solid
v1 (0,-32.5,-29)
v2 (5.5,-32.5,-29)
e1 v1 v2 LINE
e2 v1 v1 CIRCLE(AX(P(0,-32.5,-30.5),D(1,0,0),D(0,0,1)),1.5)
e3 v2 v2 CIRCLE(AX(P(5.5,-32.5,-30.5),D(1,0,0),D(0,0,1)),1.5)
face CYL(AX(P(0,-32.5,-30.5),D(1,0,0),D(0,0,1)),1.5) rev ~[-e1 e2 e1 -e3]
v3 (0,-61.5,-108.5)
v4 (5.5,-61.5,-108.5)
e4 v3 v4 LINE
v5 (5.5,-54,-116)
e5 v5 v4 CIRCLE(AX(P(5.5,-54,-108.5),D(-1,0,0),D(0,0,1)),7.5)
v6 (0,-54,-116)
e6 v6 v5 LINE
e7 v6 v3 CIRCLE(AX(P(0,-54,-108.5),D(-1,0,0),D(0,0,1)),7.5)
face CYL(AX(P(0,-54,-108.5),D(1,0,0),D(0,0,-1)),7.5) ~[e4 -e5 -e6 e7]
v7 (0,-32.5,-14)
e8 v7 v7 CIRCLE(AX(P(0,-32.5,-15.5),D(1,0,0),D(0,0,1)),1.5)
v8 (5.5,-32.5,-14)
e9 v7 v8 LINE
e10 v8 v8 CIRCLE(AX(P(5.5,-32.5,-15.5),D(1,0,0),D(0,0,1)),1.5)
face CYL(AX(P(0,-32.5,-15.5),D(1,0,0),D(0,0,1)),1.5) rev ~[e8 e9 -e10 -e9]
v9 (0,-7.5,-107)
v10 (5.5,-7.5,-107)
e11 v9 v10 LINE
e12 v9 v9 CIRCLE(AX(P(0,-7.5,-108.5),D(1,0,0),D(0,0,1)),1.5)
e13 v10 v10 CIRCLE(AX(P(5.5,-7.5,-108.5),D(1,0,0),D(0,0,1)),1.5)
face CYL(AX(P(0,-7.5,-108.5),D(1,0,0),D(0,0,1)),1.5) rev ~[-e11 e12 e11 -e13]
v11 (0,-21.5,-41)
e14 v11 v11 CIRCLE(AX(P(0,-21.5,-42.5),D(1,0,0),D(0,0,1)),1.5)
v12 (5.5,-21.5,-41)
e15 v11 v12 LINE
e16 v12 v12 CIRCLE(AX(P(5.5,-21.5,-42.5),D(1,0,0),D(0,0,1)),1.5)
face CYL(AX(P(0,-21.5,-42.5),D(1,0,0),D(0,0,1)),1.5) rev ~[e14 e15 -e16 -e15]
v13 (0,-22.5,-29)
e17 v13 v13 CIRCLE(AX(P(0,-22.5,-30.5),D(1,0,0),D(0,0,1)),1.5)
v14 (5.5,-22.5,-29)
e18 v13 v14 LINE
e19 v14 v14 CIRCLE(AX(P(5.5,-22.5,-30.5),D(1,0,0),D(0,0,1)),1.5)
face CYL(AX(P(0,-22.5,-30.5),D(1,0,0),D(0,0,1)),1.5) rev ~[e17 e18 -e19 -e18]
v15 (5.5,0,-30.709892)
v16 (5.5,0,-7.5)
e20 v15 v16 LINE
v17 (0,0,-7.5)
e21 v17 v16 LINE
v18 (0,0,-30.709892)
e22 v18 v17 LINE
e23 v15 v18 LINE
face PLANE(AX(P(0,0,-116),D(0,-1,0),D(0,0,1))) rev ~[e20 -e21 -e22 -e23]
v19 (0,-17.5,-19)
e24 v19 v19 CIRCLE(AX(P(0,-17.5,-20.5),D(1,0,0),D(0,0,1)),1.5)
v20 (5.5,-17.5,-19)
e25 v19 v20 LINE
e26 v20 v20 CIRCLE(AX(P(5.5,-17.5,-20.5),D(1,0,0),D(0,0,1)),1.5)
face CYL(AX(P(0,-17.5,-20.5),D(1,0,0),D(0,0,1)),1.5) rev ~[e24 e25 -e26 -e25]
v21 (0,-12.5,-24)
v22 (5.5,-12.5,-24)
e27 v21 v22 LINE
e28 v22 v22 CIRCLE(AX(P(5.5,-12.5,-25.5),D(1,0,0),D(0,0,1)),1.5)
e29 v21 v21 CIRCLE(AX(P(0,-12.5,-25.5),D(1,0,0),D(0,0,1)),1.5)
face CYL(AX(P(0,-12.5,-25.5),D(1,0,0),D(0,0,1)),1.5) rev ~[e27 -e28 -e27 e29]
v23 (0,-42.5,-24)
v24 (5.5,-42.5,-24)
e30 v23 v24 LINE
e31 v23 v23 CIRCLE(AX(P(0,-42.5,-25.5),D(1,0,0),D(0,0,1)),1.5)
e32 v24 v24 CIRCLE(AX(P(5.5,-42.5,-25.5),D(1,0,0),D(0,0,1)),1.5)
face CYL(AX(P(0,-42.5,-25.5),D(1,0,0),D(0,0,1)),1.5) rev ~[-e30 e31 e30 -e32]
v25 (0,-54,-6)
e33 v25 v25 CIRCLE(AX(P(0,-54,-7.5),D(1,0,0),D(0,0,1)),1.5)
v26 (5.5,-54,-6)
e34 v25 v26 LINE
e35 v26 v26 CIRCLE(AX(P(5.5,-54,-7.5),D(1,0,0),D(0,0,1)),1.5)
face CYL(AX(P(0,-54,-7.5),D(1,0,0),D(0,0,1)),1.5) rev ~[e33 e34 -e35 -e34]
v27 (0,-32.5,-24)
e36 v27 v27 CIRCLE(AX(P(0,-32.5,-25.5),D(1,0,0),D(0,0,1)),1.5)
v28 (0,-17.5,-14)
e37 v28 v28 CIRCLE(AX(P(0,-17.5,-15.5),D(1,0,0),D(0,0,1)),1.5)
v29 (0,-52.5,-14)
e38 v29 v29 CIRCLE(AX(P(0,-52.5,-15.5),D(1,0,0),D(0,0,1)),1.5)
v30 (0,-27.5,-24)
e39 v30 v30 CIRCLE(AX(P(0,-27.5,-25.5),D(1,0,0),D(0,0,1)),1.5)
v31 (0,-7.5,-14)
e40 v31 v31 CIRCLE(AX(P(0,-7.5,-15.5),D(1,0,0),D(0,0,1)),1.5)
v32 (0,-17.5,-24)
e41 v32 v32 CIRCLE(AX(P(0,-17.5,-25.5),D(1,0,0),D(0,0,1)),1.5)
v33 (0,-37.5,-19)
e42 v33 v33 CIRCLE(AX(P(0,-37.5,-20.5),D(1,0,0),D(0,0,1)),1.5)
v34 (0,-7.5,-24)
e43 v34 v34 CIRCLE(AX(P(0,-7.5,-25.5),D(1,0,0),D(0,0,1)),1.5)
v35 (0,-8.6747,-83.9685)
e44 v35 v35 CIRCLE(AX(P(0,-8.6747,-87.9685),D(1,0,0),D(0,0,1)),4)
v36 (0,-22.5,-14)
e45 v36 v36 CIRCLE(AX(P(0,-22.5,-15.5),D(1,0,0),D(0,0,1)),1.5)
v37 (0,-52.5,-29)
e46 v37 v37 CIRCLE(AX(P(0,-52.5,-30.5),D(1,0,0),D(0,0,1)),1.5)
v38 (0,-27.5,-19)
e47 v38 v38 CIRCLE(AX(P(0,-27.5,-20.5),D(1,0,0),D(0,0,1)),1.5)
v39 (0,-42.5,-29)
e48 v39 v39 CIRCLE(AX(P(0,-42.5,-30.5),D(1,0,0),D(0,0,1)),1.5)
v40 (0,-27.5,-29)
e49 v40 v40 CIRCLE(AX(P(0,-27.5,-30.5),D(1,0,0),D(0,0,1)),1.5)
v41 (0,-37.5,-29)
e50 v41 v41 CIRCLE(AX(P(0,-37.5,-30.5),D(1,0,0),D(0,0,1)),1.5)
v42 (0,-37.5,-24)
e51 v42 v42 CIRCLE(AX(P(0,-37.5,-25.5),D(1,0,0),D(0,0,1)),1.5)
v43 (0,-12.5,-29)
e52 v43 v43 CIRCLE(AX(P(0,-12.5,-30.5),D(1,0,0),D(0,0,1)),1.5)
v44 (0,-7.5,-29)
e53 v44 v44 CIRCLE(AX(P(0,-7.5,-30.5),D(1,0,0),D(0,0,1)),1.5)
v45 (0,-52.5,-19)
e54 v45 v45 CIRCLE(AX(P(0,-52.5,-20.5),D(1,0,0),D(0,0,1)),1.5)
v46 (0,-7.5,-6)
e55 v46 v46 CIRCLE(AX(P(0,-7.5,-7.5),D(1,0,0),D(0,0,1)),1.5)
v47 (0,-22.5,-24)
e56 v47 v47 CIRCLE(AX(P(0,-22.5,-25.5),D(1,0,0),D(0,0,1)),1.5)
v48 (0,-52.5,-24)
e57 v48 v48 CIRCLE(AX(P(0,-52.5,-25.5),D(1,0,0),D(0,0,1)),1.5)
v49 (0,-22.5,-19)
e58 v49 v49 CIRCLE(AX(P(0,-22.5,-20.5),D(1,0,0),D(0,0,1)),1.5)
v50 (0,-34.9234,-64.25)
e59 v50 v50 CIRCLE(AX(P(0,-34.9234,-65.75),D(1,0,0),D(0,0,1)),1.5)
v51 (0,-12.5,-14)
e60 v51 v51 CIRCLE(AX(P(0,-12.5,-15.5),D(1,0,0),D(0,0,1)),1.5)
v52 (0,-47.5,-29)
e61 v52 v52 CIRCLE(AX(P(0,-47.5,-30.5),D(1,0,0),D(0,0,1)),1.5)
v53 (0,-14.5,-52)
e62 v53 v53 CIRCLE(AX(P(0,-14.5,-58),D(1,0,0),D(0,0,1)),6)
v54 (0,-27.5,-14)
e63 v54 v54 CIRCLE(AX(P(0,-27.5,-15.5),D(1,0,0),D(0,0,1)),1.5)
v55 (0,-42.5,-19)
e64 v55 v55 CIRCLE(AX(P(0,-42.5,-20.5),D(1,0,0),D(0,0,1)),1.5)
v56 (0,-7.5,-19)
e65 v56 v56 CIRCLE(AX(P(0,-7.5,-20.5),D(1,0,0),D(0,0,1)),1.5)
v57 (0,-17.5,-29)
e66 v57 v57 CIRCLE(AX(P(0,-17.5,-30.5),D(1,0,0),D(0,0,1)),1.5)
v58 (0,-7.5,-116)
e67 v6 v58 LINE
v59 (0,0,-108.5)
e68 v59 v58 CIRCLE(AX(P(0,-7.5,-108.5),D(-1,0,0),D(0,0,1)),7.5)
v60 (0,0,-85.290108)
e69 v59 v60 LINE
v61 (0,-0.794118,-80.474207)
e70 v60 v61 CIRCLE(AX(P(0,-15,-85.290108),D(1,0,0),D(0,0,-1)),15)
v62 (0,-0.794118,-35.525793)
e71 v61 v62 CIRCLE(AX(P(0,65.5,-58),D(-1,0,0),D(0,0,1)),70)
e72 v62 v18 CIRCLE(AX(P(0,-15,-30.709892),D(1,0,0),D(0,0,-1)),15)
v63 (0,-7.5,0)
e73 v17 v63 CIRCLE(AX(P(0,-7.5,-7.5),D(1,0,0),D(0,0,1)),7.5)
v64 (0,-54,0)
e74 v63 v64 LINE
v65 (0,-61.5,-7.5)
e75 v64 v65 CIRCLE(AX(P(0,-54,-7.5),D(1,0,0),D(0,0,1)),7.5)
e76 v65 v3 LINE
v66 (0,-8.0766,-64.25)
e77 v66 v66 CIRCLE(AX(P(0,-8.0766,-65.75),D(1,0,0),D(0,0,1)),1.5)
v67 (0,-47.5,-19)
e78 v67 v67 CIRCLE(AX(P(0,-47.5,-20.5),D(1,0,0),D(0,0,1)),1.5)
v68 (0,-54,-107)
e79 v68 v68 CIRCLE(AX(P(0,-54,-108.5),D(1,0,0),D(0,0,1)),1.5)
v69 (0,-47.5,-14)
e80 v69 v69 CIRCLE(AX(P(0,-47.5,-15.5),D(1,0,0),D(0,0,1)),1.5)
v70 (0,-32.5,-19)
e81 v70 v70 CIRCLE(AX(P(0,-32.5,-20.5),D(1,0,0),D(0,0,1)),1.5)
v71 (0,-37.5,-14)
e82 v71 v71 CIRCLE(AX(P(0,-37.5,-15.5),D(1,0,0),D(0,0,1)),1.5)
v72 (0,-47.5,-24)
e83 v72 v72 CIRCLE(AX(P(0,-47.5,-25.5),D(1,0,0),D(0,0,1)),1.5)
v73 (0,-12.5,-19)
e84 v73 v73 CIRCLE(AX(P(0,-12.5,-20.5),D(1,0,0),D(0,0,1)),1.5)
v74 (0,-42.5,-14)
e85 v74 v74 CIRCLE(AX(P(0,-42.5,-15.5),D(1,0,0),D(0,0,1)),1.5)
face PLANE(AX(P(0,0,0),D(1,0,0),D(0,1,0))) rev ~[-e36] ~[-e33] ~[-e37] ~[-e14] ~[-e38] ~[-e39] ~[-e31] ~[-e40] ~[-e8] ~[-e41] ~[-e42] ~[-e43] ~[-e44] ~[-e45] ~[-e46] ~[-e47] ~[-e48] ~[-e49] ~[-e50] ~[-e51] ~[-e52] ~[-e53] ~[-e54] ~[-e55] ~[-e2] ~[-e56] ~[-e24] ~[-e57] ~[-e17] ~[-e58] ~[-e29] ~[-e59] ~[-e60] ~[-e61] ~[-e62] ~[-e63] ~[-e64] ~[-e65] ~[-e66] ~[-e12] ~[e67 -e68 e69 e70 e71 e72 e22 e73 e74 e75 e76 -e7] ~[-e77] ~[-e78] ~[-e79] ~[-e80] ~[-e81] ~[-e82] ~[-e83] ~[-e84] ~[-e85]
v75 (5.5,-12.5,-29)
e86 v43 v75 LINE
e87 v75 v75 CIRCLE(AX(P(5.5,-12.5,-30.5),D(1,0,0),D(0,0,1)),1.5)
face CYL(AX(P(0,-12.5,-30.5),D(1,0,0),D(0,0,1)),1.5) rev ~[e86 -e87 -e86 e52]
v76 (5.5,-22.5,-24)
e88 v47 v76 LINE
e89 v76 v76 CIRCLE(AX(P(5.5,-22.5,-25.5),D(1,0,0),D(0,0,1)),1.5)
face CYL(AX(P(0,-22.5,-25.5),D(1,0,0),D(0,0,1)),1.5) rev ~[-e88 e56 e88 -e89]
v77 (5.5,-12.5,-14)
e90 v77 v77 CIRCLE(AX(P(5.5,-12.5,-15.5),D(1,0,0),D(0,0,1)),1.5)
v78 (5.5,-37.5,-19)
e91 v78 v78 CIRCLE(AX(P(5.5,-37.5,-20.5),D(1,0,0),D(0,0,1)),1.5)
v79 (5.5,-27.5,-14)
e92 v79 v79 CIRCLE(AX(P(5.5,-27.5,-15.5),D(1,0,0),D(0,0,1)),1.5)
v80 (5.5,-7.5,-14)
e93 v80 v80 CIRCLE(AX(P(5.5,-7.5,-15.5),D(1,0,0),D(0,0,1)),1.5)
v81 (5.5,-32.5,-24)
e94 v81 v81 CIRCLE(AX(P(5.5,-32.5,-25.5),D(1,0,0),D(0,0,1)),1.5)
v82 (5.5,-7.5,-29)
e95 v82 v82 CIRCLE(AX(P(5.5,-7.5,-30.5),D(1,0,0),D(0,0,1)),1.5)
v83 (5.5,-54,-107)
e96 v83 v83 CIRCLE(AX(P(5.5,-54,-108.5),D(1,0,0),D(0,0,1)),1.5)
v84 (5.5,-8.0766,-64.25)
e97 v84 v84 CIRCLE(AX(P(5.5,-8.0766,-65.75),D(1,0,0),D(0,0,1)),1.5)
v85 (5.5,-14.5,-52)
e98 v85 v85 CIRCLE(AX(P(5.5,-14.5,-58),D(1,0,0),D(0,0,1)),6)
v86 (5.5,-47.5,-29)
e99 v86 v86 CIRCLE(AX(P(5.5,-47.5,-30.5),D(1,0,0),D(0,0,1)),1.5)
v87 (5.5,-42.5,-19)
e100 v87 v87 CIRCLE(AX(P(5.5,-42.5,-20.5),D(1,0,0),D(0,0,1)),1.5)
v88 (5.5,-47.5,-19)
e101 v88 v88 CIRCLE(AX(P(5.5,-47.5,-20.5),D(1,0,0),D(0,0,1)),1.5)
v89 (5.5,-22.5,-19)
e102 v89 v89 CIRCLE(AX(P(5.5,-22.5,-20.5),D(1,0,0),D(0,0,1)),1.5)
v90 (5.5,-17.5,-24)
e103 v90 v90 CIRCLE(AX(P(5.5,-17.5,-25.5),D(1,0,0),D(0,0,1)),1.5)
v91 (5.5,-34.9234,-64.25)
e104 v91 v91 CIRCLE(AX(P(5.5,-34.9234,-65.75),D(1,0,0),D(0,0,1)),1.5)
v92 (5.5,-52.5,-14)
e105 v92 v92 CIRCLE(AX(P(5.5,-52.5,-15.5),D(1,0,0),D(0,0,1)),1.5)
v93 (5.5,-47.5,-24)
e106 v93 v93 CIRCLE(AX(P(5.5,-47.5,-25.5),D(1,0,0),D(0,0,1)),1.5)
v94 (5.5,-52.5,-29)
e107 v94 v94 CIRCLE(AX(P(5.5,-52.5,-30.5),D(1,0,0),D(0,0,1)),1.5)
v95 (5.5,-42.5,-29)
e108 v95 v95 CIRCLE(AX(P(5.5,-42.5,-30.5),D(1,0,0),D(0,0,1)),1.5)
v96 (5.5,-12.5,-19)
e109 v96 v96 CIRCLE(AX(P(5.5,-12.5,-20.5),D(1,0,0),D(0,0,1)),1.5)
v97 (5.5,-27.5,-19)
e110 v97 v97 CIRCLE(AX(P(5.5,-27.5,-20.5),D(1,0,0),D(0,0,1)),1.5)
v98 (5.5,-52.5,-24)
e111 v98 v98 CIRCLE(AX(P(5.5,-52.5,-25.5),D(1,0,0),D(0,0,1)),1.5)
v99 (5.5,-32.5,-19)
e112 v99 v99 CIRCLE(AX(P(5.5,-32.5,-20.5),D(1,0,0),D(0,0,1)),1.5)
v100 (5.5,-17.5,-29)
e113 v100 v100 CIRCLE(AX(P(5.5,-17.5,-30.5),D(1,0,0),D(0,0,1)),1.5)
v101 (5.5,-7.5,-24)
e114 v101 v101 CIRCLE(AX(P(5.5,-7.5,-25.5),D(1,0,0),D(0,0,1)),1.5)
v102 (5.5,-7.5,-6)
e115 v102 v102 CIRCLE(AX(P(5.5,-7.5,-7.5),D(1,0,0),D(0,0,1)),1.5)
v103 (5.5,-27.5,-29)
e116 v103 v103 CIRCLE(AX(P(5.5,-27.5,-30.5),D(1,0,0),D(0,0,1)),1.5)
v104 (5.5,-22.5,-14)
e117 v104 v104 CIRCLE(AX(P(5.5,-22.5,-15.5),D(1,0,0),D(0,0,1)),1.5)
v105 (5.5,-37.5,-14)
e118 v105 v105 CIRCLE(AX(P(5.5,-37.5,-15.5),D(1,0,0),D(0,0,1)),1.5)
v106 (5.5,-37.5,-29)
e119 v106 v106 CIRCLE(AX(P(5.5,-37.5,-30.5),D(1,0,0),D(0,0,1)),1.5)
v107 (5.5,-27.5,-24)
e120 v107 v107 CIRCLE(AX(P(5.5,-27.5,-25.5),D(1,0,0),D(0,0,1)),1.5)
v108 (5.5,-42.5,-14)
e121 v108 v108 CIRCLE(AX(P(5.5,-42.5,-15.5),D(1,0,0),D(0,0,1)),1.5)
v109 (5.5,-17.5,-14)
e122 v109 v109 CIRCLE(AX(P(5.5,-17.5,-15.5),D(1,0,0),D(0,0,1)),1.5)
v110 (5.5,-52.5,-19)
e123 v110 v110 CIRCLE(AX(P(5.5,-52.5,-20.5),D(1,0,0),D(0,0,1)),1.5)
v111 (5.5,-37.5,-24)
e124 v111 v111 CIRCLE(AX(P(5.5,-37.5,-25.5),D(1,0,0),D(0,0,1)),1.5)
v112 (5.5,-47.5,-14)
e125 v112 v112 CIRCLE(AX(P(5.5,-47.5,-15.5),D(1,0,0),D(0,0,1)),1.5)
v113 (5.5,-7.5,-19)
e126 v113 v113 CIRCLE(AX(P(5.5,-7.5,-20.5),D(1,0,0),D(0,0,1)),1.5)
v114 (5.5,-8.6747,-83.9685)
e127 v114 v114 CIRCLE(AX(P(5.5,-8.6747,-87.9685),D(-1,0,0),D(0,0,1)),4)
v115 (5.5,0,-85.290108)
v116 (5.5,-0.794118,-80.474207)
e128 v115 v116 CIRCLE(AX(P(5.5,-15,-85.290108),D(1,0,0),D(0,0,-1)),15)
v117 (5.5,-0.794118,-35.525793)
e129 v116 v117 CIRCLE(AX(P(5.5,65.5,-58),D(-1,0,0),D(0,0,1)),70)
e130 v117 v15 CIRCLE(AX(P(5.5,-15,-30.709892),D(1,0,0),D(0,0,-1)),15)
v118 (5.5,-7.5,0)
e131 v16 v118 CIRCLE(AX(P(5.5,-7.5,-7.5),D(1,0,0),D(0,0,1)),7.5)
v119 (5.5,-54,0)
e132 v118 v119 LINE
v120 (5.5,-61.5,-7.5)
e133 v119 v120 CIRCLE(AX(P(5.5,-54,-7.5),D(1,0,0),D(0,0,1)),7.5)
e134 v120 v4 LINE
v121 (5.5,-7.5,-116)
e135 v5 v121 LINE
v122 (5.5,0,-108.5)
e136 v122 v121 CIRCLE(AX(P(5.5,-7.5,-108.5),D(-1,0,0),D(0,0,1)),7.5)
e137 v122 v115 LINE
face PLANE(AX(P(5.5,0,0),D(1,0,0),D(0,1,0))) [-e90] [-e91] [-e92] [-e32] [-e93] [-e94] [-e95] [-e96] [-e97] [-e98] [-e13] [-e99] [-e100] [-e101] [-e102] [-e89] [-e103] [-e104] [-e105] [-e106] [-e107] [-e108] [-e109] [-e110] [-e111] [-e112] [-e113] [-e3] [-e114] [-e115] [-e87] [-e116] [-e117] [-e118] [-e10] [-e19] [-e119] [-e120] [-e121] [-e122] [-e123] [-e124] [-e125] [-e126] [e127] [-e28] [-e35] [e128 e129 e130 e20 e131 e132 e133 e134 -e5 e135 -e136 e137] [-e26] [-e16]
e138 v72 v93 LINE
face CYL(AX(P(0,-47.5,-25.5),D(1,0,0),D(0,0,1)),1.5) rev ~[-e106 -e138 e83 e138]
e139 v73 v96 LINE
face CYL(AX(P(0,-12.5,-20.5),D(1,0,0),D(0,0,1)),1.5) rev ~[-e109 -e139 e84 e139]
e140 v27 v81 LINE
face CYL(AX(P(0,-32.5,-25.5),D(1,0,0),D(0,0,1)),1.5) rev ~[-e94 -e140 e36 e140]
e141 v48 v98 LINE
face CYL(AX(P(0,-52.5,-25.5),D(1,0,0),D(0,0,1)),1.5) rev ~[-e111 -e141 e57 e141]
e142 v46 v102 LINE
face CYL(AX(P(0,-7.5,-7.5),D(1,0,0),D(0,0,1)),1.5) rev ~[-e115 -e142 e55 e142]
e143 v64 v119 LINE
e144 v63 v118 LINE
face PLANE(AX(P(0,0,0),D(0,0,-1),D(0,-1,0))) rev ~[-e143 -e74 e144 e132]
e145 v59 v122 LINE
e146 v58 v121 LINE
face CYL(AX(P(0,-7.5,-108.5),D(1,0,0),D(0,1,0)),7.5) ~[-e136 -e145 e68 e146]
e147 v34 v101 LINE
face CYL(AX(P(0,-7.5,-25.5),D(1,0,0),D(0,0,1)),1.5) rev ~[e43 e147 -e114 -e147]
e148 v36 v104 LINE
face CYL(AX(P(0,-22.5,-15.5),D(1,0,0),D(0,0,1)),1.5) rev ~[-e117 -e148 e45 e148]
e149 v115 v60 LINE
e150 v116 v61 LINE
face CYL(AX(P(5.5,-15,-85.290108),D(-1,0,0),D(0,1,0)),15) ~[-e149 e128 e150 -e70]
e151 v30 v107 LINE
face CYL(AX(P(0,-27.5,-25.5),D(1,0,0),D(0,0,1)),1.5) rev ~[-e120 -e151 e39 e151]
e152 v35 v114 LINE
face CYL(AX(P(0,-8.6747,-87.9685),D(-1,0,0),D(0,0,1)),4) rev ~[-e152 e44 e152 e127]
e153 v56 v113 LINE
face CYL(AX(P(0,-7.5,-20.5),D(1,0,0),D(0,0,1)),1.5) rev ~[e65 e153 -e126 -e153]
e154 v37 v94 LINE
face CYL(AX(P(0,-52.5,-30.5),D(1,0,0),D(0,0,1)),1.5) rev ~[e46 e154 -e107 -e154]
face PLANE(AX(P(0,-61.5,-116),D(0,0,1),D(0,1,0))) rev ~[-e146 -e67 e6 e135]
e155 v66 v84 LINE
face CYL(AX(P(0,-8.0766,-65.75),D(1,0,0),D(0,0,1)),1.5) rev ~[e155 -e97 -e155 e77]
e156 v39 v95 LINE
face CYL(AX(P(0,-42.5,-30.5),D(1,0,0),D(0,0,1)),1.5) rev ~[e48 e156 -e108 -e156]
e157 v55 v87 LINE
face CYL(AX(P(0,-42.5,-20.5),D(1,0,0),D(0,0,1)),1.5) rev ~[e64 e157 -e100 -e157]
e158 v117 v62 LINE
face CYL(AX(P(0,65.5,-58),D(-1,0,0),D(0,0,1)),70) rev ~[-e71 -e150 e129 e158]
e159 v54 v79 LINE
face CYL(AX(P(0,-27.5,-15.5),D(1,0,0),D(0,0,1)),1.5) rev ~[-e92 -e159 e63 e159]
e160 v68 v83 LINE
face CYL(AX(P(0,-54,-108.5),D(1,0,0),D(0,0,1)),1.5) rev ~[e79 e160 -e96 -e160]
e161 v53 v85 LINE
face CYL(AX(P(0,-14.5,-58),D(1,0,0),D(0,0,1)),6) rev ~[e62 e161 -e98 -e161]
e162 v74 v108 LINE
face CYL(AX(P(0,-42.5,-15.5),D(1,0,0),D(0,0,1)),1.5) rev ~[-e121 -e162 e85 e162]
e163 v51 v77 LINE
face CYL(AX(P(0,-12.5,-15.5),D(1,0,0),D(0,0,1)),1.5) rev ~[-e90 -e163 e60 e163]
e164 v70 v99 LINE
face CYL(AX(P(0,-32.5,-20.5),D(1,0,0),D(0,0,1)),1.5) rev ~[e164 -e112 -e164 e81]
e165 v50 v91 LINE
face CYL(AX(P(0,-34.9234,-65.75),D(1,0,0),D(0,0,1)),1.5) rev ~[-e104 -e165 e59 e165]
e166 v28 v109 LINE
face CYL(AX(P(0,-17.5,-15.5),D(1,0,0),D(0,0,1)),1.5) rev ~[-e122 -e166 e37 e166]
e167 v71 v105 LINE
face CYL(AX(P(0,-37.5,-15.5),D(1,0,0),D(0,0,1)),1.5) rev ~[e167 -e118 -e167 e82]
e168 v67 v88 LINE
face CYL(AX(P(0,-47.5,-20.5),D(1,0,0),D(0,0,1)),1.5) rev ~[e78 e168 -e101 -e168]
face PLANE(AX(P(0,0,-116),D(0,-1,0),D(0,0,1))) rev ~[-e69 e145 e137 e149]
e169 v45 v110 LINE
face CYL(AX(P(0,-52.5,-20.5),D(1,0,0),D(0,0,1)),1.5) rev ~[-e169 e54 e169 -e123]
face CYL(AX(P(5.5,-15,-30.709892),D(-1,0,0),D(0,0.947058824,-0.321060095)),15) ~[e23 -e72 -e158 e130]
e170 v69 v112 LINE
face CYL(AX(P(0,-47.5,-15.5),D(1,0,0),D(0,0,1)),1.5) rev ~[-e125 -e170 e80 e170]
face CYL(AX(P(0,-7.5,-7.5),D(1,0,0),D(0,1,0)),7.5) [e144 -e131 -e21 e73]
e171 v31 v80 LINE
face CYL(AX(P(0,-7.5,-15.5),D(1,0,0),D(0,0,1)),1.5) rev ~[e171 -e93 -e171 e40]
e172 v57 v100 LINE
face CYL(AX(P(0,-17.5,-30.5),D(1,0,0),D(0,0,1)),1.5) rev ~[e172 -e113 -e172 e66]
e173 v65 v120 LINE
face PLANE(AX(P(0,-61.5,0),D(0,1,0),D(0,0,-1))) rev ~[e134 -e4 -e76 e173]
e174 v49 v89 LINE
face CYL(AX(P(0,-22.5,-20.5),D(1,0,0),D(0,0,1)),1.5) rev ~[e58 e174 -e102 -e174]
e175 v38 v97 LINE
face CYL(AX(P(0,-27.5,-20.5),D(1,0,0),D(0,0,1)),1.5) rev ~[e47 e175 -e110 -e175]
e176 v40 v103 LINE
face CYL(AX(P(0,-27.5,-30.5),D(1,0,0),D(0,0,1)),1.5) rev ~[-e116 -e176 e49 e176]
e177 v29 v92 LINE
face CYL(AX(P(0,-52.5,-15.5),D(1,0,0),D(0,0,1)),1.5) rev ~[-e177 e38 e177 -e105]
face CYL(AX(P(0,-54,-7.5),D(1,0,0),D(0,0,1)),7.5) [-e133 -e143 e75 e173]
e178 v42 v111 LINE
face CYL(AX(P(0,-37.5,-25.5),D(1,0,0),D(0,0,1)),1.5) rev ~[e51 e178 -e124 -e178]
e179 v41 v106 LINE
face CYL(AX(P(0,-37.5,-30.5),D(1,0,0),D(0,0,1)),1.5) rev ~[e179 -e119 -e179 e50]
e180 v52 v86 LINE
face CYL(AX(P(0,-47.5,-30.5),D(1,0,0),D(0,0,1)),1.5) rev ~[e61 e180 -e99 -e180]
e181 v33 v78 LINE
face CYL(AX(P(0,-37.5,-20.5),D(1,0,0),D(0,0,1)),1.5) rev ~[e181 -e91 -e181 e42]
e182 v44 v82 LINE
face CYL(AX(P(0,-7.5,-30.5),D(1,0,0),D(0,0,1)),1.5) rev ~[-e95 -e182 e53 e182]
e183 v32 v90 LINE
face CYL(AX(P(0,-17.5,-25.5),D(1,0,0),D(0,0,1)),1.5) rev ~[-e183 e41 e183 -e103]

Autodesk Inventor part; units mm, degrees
ref_plane "YZ Plane" through (0, 0, 0) normal (1, 0, 0) x (0, 1, 0)
ref_plane "XZ Plane" through (0, 0, 0) normal (0, 1, 0) x (-1, 0, 0)
ref_plane "XY Plane" through (0, 0, 0) normal (0, 0, 1) x (1, 0, 0)
sketch "スケッチ1" plane through (0, 0, 0) normal (1, 0, 0) x (0, 1, 0)
  line L0 (0, 0) -> (-61.5, 0)
  line L1 (-61.5, 0) -> (-61.5, -116)
  line L2 (-61.5, -116) -> (0, -116)
  line L3 (0, -116) -> (0, 0)
  dimension "d0" = 61.5
  dimension "d1" = 116
extrude "押し出し1" add sketch "スケッチ1" along normal blind 5.5
sketch "スケッチ2" plane through (0, 0, 0) normal (-1, 0, 0) x (0, 0, 1)
  line L0 (-116, -61.5) -> (-116, 0) projected
  line L1 (-116, 0) -> (0, 0) projected
  line L2 (0, -61.5) -> (-116, -61.5) projected
  line L3 (0, 0) -> (0, -61.5) projected
  point P0 (-108.5, -7.5)
  point P1 (-7.5, -7.5)
  point P2 (-7.5, -54)
  point P3 (-108.5, -54)
  dimension "d4" = 7.5
  dimension "d5" = 7.5
  dimension "d6" = 7.5
  dimension "d7" = 7.5
  dimension "d8" = 7.5
  dimension "d9" = 7.5
  dimension "d10" = 7.5
  dimension "d11" = 7.5
hole "穴1" at (0, -7.5, -108.5) at (0, -7.5, -7.5) at (0, -54, -7.5) at (0, -54, -108.5) direction (1, 0, 0) diameter 3 end through all
fillet "フィレット1" radius 7.5 4 edges at (2.75, 0, 0) (2.75, -61.5, 0) (2.75, -61.5, -116) (2.75, 0, -116)
sketch "スケッチ3" plane through (0, 0, 0) normal (-1, 0, 0) x (0, 0, 1)
  line L0 (0, -7.5) -> (0, -54) projected
  line L1 (-116, -54) -> (-116, -7.5) projected
  line L2 (-108.5, 0) -> (-7.5, 0) projected
  point P0 (0, 0)
  point P1 (-58, -14.5)
  point P2 (-58, 65.5)
  dimension "d20" = 116
  dimension "d21" = 58
  dimension "d49" = 65.5
  dimension "d50" = 80
hole "穴2" at (0, -14.5, -58) direction (1, 0, 0) diameter 12 end through all
sketch "スケッチ4" plane through (0, 0, 0) normal (-1, 0, 0) x (0, 0, 1)
  circle A0 centre (-58, -21.5) radius 15.5
  line L0 (-58, -21.5) -> (-42.5, -21.5)
  line L1 (-58, -21.5) -> (-65.75, -34.9234)
  line L2 (-58, -21.5) -> (-42.5, -21.5) construction
  line L3 (-58, -21.5) -> (-65.75, -8.0766)
  circle A1 centre (-58, -14.5) radius 6 projected
  point P0 (0, 0)
  dimension "d31" = 31
  dimension "d32" = 120
  dimension "d33" = 120
  dimension "d51" = 7
  dimension "d52" = 0
hole "穴3" at (0, -21.5, -42.5) at (0, -34.9234, -65.75) at (0, -8.0766, -65.75) direction (1, 0, 0) diameter 3 end through all
sketch "スケッチ5" plane through (0, 0, 0) normal (-1, 0, 0) x (0, 0, 1)
  circle A0 centre (-58, -14.5) radius 6 projected
  circle A1 centre (-58, 65.5) radius 70
  point P0 (0, 0)
  dimension "d42" = 65.5
  dimension "d43" = 58
  dimension "d44" = 58
  dimension "d45" = 140
extrude "押し出し2" cut sketch "スケッチ5" against normal through all contours A1
fillet "フィレット2" radius 15 2 edges at (2.75, 0, -33.3069) (2.75, 0, -82.6931)
sketch "スケッチ6" plane through (0, 0, 0) normal (-1, 0, 0) x (0, 0, 1)
  circle A0 centre (-7.5, -7.5) radius 1.5 projected
  line L0 (-30.7099, 0) -> (-7.5, 0) projected
  line L1 (0, -7.5) -> (0, -54) projected
  point P0 (0, 0)
  point P1 (-15.5, -7.5)
  point P2 (-20.5, -7.5)
  point P3 (-25.5, -7.5)
  point P4 (-15.5, -12.5)
  point P5 (-20.5, -12.5)
  point P6 (-25.5, -12.5)
  point P7 (-15.5, -17.5)
  point P8 (-20.5, -17.5)
  point P9 (-25.5, -17.5)
  point P10 (-15.5, -22.5)
  point P11 (-20.5, -22.5)
  point P12 (-25.5, -22.5)
  point P13 (-15.5, -27.5)
  point P14 (-20.5, -27.5)
  point P15 (-25.5, -27.5)
  point P16 (-15.5, -32.5)
  point P17 (-20.5, -32.5)
  point P18 (-25.5, -32.5)
  point P19 (-15.5, -37.5)
  point P20 (-20.5, -37.5)
  point P21 (-25.5, -37.5)
  point P22 (-15.5, -42.5)
  point P23 (-20.5, -42.5)
  point P24 (-25.5, -42.5)
  point P25 (-15.5, -47.5)
  point P26 (-20.5, -47.5)
  point P27 (-25.5, -47.5)
  point P28 (-15.5, -52.5)
  point P29 (-20.5, -52.5)
  point P30 (-25.5, -52.5)
  point P31 (-30.5, -7.5)
  point P32 (-30.5, -12.5)
  point P33 (-30.5, -17.5)
  point P34 (-30.5, -22.5)
  point P35 (-30.5, -27.5)
  point P36 (-30.5, -32.5)
  point P37 (-30.5, -37.5)
  point P38 (-30.5, -42.5)
  point P39 (-30.5, -47.5)
  point P40 (-30.5, -52.5)
  dimension "d53" = 8
  dimension "d54" = 7.5
  dimension "d64" = 5
  dimension "d69" = 15.5
  dimension "d72" = 5
  dimension "d79" = 5
hole "穴4" at (0, -7.5, -15.5) at (0, -7.5, -20.5) at (0, -7.5, -25.5) at (0, -12.5, -15.5) at (0, -12.5, -20.5) at (0, -12.5, -25.5) at (0, -17.5, -15.5) at (0, -17.5, -20.5) at (0, -17.5, -25.5) at (0, -22.5, -15.5) at (0, -22.5, -20.5) at (0, -22.5, -25.5) at (0, -27.5, -15.5) at (0, -27.5, -20.5) at (0, -27.5, -25.5) at (0, -32.5, -15.5) at (0, -32.5, -20.5) at (0, -32.5, -25.5) at (0, -37.5, -15.5) at (0, -37.5, -20.5) at (0, -37.5, -25.5) at (0, -42.5, -15.5) at (0, -42.5, -20.5) at (0, -42.5, -25.5) at (0, -47.5, -15.5) at (0, -47.5, -20.5) at (0, -47.5, -25.5) at (0, -52.5, -15.5) at (0, -52.5, -20.5) at (0, -52.5, -25.5) at (0, -7.5, -30.5) at (0, -12.5, -30.5) at (0, -17.5, -30.5) at (0, -22.5, -30.5) at (0, -27.5, -30.5) at (0, -32.5, -30.5) at (0, -37.5, -30.5) at (0, -42.5, -30.5) at (0, -47.5, -30.5) at (0, -52.5, -30.5) direction (1, 0, 0) diameter 3 end through all
sketch "スケッチ7" plane through (0, 0, 0) normal (-1, 0, 0) x (0, 0, 1)
  circle A0 centre (-87.9685, -8.6747) radius 4
  circle A1 centre (-58, 65.5) radius 80
  line L0 (0, -7.5) -> (0, -54) projected
  line L1 (-116, -54) -> (-116, -7.5) projected
  circle A2 centre (-58, -14.5) radius 6 projected
  line L2 (-58, 65.5) -> (-87.9685, -8.6747)
  line L3 (-58, 65.5) -> (-58, -14.5)
  point P0 (0, 0)
  dimension "d94" = 160
  dimension "d91" = 8
  dimension "d95" = 116
  dimension "d96" = 58
  dimension "d97" = 80
  dimension "d98" = 22
extrude "押し出し3" cut sketch "スケッチ7" against normal through all contours A0 A1 L2 | L2 A1 A0 | A0 A1
equation "\"d5\" = d4"
equation "\"d6\" = d5"
equation "\"d7\" = d6"
equation "\"d8\" = d6"
equation "\"d9\" = d8"
equation "\"d10\" = d8"
equation "\"d11\" = d10"
equation "\"d21\" = 0.5 * d20"
equation "\"d43\" = d44"
equation "\"d96\" = 0.5 * d95"
equation "\"d97\" = 0.5 * d94"
properties part number "ロボットベースT5.5" material "木材 (クルミ材)"
